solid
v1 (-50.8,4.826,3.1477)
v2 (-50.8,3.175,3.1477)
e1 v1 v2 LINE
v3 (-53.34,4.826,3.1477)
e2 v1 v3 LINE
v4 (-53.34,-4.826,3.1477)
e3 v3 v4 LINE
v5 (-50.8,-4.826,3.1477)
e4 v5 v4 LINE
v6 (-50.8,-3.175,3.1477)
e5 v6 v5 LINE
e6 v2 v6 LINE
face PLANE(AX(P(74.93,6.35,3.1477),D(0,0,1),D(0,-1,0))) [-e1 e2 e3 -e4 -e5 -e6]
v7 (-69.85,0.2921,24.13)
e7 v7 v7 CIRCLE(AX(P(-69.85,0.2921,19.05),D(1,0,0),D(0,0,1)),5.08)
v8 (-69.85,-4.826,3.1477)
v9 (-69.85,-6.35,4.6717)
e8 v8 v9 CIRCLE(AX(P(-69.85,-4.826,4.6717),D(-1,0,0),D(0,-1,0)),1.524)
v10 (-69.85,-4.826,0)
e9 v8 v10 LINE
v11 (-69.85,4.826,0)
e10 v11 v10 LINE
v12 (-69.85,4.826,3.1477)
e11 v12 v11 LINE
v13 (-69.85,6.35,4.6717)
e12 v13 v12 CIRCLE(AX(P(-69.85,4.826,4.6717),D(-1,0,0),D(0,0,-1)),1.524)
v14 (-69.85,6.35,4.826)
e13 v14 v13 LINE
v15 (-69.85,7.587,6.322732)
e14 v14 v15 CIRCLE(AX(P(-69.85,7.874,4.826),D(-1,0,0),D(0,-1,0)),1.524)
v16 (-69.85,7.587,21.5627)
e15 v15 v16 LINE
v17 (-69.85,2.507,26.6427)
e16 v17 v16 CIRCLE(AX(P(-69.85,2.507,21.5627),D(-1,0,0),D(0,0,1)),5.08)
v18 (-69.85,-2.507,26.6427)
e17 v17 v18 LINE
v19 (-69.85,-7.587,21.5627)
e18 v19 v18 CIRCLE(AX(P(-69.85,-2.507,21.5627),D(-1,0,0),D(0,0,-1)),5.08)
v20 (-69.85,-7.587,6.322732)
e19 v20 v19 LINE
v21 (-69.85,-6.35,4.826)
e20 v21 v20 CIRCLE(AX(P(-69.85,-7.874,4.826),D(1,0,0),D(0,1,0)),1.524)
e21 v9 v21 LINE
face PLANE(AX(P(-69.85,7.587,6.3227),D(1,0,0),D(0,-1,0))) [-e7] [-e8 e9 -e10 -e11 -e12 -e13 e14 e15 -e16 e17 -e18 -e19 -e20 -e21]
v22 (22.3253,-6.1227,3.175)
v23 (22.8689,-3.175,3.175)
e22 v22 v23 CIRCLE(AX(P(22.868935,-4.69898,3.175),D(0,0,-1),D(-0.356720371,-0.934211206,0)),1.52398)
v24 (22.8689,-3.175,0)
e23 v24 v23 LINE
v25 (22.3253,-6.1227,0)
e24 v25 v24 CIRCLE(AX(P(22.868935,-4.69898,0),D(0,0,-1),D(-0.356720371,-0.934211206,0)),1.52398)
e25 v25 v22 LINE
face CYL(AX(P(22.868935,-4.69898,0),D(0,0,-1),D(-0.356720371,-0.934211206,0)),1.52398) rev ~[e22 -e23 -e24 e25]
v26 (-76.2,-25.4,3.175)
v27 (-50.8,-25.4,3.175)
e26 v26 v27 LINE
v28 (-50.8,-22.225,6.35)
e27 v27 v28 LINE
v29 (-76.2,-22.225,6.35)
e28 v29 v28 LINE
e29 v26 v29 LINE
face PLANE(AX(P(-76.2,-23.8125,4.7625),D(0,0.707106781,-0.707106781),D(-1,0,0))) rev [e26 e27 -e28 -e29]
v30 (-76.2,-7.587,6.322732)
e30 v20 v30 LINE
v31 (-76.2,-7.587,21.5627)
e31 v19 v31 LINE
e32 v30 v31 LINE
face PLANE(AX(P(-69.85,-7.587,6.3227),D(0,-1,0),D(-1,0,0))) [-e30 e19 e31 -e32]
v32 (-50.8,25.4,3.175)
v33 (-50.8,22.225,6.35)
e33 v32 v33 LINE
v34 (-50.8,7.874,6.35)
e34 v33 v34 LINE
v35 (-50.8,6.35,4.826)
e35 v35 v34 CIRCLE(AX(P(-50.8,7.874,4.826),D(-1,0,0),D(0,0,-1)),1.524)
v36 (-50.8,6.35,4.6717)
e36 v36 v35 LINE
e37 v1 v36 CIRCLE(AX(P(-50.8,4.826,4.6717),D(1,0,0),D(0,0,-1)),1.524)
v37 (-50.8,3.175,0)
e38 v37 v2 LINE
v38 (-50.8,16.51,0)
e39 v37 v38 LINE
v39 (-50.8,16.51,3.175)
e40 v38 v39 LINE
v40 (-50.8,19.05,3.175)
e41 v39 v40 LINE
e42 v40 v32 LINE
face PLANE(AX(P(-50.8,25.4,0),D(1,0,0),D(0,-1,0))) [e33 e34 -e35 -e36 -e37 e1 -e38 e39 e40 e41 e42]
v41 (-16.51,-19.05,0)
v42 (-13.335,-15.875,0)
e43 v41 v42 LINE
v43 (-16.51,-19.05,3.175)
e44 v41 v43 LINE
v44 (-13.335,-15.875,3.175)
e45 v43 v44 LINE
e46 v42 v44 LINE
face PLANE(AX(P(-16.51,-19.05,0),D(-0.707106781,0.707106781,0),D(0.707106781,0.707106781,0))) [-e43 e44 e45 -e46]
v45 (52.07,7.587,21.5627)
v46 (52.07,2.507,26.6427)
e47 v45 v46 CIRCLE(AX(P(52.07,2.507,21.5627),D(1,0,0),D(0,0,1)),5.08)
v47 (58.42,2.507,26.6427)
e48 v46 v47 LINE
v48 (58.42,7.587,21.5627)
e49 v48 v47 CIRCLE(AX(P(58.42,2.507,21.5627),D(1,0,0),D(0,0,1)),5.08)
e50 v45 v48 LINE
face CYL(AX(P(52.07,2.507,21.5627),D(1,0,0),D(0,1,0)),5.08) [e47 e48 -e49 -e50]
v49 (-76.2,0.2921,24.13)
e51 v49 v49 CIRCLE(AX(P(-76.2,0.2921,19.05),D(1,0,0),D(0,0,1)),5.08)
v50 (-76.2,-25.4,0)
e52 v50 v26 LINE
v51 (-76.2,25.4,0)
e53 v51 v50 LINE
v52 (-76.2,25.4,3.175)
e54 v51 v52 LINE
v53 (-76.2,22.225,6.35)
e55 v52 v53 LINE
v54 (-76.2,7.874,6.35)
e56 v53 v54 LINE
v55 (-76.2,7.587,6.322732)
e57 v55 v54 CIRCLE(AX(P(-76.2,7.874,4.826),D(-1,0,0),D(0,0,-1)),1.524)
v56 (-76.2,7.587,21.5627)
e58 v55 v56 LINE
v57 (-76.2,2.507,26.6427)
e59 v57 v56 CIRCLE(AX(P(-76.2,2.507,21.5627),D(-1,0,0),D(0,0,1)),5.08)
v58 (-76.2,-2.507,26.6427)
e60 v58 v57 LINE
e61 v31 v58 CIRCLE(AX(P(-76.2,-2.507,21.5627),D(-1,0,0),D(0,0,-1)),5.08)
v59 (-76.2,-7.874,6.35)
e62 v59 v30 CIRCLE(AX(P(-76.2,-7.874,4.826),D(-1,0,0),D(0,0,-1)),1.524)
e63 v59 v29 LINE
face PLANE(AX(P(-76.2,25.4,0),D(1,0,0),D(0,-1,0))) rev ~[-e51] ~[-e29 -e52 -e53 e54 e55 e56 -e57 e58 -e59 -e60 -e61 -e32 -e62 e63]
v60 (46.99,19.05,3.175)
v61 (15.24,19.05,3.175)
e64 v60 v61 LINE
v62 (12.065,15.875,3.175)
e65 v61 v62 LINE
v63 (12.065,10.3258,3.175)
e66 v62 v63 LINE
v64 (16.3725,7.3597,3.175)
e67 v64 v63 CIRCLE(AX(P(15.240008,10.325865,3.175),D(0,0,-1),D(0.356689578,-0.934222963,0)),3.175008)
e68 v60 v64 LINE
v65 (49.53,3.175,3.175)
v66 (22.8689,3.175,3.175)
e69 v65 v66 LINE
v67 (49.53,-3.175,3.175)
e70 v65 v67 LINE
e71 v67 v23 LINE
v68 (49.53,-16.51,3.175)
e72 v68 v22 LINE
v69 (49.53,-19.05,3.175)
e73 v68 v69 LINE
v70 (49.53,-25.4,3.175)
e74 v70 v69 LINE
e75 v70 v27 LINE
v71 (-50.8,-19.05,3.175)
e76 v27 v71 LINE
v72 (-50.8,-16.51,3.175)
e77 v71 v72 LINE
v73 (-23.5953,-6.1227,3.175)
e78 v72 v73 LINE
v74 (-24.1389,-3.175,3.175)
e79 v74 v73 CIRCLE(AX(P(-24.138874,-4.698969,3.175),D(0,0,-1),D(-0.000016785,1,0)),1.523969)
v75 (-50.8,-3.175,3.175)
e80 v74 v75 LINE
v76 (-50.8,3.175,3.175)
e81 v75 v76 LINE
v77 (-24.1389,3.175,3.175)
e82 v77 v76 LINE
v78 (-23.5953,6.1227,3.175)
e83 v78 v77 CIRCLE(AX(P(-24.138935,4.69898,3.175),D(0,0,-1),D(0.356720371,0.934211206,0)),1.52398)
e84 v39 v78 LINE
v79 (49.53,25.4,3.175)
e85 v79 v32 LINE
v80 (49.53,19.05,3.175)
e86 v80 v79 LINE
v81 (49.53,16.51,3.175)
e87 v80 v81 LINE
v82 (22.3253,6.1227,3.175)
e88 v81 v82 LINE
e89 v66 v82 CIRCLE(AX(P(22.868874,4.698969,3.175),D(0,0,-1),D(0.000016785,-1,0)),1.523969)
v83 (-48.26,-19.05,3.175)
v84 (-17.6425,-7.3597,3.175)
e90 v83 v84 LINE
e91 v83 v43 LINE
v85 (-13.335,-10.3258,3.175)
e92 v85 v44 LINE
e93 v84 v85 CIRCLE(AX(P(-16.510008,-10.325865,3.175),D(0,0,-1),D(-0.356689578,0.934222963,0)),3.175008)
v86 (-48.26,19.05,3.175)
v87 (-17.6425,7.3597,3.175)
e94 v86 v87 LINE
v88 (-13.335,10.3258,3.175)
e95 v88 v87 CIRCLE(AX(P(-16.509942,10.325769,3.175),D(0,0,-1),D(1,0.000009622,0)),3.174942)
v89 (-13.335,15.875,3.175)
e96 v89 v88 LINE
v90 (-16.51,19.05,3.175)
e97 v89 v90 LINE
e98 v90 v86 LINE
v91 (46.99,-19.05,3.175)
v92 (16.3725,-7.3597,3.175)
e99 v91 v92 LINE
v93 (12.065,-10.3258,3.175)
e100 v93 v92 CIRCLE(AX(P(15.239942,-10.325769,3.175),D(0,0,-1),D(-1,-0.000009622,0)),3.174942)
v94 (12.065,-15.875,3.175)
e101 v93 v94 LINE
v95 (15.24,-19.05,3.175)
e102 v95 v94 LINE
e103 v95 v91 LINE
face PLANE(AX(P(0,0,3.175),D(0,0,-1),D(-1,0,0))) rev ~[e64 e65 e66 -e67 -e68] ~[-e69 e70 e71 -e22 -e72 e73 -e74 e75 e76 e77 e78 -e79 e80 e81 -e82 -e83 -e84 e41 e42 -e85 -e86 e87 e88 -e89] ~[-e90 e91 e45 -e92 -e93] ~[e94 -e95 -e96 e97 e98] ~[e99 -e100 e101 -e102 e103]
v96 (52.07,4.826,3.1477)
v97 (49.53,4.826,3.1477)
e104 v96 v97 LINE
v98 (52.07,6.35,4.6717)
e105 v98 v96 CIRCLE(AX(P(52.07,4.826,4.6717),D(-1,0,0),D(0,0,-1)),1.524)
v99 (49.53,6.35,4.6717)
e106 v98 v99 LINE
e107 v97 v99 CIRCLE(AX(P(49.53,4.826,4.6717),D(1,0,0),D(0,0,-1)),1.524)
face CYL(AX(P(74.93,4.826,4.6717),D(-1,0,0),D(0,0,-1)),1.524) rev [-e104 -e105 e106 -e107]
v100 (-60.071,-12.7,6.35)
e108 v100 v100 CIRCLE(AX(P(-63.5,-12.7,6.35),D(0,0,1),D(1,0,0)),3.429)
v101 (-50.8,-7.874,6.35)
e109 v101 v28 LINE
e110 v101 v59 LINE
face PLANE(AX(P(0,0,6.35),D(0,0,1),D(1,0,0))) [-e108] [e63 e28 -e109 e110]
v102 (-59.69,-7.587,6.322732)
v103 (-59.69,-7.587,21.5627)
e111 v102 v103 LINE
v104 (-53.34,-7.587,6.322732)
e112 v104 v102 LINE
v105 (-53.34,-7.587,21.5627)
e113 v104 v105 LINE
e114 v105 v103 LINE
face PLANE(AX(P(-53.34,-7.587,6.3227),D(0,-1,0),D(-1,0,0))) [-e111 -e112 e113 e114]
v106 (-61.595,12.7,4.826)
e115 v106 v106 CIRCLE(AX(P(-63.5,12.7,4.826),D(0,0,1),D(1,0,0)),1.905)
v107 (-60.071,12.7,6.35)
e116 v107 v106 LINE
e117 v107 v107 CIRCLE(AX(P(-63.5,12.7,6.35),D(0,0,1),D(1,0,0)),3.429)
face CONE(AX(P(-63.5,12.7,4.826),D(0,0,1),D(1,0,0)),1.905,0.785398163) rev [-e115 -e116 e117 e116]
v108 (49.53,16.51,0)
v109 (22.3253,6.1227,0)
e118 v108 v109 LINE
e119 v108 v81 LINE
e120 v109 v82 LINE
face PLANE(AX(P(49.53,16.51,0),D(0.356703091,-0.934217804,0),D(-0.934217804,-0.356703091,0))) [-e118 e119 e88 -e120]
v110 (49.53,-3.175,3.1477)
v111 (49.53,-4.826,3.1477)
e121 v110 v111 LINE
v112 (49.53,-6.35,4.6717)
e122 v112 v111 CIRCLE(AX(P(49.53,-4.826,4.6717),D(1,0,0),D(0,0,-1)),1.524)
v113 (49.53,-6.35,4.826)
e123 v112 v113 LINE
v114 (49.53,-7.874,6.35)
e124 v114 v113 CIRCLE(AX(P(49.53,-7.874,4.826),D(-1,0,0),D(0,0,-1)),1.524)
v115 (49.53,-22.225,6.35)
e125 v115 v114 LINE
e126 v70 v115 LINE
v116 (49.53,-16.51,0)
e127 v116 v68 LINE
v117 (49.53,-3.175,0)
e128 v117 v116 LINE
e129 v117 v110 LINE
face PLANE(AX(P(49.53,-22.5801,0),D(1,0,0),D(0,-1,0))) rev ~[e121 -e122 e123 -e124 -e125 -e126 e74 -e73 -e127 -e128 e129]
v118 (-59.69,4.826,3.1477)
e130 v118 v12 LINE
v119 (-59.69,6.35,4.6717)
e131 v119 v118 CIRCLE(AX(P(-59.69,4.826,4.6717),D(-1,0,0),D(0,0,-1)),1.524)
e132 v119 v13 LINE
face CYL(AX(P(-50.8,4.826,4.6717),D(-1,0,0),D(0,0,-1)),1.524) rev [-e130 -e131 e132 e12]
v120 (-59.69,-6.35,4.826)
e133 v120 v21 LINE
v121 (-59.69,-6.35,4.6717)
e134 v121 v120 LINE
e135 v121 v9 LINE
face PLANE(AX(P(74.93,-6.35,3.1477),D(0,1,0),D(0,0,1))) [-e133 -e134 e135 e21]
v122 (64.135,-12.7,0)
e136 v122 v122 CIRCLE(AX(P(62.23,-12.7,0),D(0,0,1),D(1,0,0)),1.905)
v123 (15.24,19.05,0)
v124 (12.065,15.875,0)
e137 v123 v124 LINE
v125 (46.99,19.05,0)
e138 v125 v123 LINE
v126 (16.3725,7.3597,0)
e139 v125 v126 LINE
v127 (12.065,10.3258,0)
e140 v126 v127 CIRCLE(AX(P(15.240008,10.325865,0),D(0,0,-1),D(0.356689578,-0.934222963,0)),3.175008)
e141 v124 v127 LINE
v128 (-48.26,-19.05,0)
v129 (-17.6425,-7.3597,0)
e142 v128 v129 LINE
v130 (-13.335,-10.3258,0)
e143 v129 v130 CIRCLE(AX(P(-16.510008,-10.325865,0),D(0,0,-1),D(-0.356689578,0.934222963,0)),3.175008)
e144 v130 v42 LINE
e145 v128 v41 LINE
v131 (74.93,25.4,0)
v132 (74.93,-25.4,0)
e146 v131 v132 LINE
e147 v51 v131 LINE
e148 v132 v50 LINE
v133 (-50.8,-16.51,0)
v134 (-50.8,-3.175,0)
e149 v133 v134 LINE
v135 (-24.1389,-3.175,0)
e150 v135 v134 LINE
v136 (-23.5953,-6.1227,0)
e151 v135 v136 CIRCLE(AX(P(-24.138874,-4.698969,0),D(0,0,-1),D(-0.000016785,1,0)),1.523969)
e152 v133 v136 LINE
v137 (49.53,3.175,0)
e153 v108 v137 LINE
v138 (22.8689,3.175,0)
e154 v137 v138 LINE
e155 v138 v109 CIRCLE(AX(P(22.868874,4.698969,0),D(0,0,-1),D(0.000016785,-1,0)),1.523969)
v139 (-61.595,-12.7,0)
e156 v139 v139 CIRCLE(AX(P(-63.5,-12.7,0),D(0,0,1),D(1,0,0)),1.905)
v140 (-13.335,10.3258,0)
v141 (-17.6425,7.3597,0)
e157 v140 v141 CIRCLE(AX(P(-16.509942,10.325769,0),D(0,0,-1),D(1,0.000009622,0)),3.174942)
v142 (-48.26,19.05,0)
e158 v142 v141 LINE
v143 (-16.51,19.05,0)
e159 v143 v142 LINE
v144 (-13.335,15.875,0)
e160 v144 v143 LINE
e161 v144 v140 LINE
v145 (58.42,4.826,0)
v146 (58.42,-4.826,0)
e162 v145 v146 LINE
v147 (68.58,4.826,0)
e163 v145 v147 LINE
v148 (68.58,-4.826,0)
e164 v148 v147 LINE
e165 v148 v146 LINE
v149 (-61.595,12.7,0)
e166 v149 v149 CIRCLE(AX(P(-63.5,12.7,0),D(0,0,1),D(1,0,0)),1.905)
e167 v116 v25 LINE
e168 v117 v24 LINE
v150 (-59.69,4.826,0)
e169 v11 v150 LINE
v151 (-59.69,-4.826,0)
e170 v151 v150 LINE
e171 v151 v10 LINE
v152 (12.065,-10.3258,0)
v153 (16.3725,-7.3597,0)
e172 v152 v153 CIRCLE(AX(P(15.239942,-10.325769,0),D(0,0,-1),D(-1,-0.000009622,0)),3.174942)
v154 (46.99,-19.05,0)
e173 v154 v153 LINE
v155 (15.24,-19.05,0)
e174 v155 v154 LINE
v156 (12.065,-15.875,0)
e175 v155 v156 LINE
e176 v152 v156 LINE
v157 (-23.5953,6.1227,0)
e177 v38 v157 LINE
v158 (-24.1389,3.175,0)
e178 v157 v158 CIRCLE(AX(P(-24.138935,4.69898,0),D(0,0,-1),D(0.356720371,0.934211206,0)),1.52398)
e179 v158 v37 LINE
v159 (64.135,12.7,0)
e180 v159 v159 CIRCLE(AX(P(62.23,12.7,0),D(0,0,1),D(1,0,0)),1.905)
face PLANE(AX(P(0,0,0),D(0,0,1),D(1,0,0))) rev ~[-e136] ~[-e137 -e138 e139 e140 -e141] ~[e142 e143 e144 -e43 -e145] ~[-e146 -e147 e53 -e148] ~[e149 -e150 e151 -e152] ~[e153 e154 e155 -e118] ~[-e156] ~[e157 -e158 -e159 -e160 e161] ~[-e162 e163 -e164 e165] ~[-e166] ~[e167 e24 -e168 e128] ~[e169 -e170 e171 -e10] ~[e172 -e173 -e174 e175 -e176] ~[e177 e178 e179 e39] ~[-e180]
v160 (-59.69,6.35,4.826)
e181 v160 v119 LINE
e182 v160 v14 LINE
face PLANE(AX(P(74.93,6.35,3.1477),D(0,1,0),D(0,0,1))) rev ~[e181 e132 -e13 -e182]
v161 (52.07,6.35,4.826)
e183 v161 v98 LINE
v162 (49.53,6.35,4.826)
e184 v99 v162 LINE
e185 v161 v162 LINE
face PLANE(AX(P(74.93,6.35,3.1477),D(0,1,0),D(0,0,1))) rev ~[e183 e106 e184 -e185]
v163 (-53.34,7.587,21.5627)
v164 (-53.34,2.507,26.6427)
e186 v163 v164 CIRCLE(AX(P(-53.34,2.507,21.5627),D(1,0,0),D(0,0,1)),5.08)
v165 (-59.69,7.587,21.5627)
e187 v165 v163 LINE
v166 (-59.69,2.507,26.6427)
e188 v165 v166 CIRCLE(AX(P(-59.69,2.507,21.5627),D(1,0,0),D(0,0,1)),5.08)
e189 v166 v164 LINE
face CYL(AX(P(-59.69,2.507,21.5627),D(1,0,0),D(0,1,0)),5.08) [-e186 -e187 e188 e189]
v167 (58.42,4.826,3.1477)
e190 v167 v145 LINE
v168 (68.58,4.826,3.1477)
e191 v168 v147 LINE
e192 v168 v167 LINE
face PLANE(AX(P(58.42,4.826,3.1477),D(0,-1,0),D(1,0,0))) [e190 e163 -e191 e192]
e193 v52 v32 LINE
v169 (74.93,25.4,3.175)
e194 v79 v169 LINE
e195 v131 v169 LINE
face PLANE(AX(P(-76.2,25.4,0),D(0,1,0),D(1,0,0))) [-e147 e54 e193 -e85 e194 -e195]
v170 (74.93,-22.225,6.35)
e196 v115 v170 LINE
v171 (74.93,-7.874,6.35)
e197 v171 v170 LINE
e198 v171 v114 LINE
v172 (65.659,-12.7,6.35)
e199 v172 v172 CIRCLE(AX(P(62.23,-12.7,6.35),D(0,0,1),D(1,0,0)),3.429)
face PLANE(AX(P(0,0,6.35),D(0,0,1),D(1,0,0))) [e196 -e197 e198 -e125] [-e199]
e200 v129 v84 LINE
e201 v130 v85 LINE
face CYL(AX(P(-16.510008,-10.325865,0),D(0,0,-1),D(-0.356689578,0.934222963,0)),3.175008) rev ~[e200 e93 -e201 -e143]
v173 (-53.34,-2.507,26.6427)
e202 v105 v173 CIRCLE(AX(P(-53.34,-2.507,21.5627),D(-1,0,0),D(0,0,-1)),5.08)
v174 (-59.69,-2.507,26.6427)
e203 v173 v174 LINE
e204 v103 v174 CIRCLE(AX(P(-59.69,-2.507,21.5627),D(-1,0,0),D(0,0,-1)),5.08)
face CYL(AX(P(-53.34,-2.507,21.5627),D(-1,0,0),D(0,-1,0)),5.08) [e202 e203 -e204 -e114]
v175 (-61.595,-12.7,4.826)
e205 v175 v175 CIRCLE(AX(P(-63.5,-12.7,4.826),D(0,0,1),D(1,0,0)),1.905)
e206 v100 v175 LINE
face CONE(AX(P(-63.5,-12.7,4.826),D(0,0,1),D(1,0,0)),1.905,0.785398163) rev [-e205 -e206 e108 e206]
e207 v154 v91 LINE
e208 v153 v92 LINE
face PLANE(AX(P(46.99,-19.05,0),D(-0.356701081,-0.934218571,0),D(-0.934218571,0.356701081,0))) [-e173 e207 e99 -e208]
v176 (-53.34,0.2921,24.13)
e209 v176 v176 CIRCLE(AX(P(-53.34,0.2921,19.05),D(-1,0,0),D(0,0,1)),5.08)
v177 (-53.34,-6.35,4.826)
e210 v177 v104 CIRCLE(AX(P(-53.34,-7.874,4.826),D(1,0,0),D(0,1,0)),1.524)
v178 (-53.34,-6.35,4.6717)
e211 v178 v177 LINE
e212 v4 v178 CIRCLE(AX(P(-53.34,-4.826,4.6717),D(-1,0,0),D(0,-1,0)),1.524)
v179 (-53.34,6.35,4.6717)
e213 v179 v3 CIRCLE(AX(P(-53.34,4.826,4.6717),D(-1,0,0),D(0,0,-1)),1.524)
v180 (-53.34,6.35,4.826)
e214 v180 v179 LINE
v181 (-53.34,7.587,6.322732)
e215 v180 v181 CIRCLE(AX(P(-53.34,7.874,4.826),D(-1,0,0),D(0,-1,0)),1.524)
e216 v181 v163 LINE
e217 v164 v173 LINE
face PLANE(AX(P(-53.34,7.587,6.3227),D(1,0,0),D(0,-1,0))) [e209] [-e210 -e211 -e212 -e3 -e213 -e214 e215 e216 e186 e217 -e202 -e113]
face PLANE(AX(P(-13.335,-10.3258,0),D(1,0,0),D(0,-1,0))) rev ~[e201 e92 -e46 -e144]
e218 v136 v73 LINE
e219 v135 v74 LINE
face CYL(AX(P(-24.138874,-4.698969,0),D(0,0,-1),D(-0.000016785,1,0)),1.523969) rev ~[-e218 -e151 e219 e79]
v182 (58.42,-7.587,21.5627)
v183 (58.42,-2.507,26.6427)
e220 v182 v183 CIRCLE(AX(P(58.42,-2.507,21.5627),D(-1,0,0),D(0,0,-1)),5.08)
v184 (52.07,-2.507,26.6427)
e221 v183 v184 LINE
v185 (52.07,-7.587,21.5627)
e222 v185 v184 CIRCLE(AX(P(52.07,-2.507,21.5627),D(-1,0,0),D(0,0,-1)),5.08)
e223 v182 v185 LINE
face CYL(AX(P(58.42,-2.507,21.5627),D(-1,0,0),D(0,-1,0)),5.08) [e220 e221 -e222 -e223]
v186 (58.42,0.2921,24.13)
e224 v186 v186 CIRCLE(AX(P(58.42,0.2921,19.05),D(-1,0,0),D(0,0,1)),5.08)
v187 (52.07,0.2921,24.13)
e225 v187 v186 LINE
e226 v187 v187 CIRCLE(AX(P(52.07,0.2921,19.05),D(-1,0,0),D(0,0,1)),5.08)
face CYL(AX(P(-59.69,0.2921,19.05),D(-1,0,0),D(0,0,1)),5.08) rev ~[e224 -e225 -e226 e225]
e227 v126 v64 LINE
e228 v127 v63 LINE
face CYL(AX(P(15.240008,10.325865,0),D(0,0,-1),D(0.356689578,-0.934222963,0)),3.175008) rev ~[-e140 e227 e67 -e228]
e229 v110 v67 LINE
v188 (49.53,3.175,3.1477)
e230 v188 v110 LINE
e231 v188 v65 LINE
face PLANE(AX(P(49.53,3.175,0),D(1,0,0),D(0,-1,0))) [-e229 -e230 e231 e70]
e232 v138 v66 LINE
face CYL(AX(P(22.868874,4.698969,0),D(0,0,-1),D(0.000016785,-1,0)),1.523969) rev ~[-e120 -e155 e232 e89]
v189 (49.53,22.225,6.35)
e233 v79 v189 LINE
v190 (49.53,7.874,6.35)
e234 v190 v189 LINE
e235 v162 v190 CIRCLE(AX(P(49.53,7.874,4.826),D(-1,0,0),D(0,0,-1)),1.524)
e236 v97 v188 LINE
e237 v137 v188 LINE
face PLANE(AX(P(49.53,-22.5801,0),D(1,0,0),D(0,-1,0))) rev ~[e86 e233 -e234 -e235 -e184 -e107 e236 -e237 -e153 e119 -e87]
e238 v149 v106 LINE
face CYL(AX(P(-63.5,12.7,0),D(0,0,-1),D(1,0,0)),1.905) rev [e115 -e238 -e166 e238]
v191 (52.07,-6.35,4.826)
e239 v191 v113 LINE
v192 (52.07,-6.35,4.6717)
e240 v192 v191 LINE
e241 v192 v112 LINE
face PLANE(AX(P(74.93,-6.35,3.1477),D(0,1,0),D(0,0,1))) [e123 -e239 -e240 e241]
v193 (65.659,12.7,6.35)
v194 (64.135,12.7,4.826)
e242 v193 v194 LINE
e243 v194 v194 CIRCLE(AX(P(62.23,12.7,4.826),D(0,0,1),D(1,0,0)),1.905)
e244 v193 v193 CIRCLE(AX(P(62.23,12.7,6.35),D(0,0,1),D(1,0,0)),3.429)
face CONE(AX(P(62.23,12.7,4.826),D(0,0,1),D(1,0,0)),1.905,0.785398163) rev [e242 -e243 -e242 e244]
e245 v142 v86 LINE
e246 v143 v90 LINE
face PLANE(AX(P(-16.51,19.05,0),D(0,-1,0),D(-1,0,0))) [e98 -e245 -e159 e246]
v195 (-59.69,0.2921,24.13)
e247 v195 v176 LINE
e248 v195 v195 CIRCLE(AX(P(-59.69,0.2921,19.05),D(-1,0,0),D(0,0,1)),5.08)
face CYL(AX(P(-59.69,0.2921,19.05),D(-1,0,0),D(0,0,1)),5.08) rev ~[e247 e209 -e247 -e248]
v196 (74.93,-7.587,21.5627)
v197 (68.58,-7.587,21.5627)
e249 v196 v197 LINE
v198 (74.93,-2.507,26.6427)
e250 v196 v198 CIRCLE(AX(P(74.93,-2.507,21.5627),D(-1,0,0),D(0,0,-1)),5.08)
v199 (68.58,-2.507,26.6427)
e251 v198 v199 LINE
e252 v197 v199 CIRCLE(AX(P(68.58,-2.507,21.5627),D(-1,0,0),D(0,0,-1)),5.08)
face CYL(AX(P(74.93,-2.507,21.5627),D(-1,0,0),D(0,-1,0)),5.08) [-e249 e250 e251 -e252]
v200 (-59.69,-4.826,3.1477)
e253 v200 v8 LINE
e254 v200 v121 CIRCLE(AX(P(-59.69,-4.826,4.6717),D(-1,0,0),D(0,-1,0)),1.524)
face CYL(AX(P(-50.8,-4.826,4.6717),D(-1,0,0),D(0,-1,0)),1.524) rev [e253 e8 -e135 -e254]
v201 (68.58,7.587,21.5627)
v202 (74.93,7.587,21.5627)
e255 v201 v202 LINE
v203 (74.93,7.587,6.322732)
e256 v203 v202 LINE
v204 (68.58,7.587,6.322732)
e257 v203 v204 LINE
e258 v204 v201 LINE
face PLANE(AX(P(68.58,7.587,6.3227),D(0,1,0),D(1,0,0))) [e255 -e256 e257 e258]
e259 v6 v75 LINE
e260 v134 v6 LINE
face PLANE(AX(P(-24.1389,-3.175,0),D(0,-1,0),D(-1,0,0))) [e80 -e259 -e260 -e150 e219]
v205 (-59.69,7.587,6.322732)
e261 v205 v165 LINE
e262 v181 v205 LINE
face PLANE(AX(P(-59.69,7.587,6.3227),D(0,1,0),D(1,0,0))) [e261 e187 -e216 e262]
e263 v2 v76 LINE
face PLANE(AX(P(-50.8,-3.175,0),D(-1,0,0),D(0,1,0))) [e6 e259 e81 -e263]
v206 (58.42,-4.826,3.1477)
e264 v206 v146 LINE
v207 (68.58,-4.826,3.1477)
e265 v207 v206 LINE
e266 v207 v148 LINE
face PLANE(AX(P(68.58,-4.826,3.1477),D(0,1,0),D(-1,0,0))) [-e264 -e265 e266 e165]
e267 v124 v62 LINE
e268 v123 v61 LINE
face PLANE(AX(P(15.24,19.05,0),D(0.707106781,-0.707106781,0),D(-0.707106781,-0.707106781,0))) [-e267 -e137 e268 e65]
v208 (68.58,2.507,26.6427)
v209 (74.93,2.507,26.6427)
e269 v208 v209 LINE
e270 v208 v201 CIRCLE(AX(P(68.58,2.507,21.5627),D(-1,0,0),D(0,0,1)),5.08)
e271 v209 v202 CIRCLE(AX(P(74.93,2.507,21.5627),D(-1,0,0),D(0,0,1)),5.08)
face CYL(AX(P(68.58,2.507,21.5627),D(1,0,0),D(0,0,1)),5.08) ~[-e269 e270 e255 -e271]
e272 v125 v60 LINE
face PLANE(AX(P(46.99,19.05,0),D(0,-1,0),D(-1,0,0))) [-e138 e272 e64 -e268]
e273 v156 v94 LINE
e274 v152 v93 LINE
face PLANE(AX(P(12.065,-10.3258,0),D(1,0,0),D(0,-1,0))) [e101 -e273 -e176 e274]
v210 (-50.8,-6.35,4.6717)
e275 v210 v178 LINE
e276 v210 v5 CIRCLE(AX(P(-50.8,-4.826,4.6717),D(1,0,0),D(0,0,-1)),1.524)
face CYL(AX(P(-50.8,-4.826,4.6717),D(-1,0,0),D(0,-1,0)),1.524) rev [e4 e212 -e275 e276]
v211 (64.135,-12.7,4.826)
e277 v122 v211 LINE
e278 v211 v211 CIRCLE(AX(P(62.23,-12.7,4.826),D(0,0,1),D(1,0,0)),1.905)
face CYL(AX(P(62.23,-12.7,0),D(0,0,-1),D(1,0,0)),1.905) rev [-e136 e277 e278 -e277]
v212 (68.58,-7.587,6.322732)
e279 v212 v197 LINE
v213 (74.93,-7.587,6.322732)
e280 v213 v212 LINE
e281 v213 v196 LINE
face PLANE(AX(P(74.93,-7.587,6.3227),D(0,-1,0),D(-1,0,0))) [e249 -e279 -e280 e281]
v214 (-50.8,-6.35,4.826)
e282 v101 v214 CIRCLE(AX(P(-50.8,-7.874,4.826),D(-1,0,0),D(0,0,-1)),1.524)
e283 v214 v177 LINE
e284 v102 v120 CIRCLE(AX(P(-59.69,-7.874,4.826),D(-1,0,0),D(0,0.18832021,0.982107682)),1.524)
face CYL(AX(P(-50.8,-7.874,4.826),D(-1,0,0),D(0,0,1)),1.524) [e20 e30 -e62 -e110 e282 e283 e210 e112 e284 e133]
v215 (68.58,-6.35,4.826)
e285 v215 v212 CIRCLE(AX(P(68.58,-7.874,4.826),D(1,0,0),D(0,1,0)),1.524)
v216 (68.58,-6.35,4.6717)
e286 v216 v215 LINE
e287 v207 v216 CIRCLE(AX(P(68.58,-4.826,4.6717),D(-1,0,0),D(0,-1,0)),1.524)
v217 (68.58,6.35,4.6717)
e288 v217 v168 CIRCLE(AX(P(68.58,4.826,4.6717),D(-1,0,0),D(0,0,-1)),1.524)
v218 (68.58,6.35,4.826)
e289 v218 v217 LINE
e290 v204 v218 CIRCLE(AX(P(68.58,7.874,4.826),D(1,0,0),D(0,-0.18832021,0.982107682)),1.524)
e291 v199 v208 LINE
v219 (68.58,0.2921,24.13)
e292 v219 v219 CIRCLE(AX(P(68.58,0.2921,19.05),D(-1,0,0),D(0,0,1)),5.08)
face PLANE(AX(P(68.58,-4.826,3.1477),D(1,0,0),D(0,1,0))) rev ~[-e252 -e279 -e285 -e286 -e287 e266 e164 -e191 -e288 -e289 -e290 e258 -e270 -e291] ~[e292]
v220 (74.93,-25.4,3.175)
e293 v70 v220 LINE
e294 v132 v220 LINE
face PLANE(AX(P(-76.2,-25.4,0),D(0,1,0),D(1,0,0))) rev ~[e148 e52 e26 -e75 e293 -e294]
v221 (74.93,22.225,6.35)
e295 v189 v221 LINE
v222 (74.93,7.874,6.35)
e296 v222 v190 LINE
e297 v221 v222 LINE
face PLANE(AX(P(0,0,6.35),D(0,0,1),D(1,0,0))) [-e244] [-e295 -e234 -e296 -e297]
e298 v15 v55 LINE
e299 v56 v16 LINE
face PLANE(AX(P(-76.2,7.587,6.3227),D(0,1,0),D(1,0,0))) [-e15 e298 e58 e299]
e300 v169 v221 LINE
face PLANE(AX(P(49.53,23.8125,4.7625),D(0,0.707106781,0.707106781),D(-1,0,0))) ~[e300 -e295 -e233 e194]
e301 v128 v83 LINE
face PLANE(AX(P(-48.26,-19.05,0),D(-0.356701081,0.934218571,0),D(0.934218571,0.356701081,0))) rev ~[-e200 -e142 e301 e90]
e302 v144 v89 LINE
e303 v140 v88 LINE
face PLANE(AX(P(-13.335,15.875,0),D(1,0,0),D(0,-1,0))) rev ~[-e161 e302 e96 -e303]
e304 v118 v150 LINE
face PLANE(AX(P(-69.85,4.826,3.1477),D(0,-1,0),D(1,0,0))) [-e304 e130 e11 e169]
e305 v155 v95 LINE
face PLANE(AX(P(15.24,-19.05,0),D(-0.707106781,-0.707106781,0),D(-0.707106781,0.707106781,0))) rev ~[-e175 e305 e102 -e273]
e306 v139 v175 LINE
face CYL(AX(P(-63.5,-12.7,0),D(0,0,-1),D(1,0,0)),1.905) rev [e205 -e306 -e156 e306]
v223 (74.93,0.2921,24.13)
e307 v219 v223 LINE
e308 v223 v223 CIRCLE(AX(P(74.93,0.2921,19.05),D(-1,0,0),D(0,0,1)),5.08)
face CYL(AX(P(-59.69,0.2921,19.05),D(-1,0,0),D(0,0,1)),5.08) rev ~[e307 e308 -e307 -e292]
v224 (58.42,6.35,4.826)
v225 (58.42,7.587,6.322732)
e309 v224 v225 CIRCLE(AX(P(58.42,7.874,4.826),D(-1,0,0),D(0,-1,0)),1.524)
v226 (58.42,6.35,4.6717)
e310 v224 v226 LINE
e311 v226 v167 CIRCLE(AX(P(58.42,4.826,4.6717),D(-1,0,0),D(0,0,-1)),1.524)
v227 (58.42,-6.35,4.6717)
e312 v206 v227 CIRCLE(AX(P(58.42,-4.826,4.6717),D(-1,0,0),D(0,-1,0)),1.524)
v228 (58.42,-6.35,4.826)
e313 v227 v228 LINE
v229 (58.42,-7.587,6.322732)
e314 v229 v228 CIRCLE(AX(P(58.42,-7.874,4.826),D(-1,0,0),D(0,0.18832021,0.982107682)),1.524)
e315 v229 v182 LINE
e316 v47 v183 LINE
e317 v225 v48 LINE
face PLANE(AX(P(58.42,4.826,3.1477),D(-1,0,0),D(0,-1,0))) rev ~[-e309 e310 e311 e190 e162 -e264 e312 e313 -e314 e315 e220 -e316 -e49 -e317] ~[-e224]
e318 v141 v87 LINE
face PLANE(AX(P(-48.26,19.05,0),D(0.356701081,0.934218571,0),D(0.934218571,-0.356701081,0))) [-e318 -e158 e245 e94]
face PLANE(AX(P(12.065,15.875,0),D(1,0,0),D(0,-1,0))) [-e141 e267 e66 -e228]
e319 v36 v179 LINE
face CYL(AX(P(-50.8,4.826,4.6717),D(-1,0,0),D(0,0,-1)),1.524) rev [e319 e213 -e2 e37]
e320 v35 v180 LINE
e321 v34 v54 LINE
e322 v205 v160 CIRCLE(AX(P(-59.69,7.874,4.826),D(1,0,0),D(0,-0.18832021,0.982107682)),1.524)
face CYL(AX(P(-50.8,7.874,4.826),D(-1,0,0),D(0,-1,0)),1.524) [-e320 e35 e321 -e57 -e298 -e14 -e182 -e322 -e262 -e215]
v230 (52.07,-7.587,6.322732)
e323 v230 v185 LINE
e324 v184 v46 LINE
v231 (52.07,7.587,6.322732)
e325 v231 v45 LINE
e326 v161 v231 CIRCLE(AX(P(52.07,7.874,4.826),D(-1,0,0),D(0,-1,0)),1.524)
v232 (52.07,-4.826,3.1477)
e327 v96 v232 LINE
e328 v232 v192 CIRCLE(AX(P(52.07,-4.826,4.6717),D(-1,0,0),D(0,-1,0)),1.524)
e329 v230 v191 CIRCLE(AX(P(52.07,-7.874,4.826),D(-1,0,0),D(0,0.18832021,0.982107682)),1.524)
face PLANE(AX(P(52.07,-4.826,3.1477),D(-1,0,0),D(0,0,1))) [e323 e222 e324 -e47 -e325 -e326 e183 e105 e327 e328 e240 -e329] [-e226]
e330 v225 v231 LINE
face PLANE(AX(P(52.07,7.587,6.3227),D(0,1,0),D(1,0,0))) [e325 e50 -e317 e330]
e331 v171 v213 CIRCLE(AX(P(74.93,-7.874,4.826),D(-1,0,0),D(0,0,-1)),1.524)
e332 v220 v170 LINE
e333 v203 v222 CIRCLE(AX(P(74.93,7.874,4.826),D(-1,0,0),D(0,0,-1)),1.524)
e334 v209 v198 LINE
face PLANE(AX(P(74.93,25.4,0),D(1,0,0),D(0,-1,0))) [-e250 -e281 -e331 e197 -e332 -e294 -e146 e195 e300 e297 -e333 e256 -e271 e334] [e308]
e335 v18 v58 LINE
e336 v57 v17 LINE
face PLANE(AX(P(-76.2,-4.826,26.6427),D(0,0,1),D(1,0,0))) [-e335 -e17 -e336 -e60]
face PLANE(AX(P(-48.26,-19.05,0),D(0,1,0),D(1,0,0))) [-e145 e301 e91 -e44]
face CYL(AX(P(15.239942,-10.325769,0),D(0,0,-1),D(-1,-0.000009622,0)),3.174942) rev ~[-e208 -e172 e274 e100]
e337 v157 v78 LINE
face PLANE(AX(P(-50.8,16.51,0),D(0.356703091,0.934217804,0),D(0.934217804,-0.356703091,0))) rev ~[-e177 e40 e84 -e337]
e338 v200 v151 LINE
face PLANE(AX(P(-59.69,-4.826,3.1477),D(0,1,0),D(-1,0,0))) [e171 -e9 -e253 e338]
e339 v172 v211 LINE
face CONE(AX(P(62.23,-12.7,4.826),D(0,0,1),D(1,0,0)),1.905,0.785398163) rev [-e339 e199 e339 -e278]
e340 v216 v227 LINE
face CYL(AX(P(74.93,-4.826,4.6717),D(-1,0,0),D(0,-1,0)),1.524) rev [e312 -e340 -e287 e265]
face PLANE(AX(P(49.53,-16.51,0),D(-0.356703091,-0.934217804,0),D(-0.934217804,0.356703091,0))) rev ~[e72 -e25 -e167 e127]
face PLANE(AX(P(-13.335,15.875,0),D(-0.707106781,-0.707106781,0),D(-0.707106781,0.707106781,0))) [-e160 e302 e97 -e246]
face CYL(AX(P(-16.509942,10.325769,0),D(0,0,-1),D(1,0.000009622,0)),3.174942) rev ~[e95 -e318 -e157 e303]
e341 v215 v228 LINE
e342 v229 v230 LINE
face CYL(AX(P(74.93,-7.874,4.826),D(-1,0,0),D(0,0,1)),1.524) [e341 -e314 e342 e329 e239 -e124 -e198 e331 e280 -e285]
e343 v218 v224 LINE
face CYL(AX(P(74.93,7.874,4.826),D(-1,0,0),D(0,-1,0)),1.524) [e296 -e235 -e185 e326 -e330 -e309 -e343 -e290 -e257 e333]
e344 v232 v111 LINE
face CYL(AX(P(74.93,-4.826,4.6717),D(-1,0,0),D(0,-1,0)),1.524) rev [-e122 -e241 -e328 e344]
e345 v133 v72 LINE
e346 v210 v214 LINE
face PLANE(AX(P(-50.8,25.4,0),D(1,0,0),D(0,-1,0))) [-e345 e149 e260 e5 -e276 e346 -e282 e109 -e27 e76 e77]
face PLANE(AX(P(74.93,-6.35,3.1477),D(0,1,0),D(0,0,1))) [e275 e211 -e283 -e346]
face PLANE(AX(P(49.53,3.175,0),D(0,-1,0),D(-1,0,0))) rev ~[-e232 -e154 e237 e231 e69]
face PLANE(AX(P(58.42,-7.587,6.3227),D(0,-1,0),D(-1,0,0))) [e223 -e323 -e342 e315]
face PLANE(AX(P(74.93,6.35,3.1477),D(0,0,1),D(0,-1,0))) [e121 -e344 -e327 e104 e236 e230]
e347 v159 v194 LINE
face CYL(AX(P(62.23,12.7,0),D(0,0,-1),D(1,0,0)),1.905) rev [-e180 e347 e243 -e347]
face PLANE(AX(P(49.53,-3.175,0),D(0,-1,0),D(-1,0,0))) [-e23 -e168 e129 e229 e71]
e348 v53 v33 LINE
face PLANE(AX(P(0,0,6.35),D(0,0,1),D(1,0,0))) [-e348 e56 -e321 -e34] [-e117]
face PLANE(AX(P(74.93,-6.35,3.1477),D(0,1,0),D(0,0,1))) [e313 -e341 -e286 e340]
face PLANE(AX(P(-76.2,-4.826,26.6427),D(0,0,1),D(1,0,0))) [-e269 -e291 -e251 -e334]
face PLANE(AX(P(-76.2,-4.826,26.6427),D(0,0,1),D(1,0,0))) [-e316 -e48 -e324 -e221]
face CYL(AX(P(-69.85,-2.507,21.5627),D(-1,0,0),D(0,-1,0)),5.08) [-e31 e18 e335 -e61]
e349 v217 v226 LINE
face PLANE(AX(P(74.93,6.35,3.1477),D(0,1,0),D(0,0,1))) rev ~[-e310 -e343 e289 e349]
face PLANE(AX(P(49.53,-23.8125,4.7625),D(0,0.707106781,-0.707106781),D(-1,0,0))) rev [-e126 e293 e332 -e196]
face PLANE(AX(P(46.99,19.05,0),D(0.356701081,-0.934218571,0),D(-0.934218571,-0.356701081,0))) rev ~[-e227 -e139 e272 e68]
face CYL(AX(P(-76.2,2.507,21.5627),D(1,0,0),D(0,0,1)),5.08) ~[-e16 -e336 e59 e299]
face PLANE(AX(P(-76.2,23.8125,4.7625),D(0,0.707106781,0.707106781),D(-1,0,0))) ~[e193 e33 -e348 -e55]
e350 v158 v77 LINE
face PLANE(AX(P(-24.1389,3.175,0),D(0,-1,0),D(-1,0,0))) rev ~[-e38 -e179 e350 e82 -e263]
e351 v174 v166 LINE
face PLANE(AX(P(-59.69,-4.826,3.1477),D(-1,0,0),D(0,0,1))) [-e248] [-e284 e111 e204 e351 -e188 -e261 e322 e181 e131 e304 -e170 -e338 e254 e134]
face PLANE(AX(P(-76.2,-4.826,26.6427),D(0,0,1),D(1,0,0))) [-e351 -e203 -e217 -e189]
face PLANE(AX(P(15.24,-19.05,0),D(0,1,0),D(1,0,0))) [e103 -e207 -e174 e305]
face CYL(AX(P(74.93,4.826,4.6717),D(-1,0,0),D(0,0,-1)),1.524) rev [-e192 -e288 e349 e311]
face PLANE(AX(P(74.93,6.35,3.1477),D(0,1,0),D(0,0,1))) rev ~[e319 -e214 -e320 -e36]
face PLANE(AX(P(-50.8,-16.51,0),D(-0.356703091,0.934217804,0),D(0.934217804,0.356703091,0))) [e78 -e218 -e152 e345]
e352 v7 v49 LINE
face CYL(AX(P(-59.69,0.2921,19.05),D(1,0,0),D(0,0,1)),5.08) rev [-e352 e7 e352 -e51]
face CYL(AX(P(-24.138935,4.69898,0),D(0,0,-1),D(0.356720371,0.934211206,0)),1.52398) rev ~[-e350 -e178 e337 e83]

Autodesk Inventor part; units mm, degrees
ref_plane "YZ Plane" through (0, 0, 0) normal (1, 0, 0) x (0, 1, 0)
ref_plane "XZ Plane" through (0, 0, 0) normal (0, 1, 0) x (-1, 0, 0)
ref_plane "XY Plane" through (0, 0, 0) normal (0, 0, 1) x (1, 0, 0)
sketch "Sketch1" plane through (0, 0, 0) normal (0, 0, 1) x (1, 0, 0)
  line L0 (0, 10.4492) -> (0, -5.5867)
  line L1 (-50.8, 47.0224) -> (-50.8, -22.5801)
  line L2 (49.53, -22.5801) -> (49.53, 35.616)
  line L3 (-76.2, 44.5628) -> (-76.2, -34.6645)
  line L4 (74.93, 44.5628) -> (74.93, -34.6645)
  line L5 (-76.2, 25.4) -> (74.93, 25.4)
  line L6 (49.53, 35.616) -> (49.53, 84.3028)
  line L7 (-50.8, -22.5801) -> (-50.8, -93.3226)
  line L8 (49.53, -22.5801) -> (49.53, -89.9068)
  line L9 (-76.2, -25.4) -> (74.93, -25.4)
  circle A0 centre (-63.5, 12.7) radius 1.905
  circle A1 centre (-63.5, -12.7) radius 1.905
  circle A2 centre (62.23, -12.7) radius 1.905
  circle A3 centre (62.23, 12.7) radius 1.905
  point P0 (0, 0)
  point P1 (49.53, -25.4)
  point P2 (49.53, 25.4)
  point P3 (-50.8, -25.4)
  point P4 (-50.8, 25.4)
  dimension "d0" = 100.33
  dimension "d1" = 50.8
  dimension "d2" = 25.4
  dimension "d3" = 25.4
  dimension "d4" = 50.8
  dimension "d5" = 25.4
  dimension "d6" = 3.81
  dimension "d7" = 3.81
  dimension "d8" = 3.81
  dimension "d9" = 3.81
  dimension "d10" = 12.7
  dimension "d11" = 12.7
  dimension "d12" = 12.7
  dimension "d13" = 12.7
  dimension "d14" = 12.7
  dimension "d15" = 12.7
  dimension "d16" = 12.7
  dimension "d17" = 12.7
extrude "Extrusion1" add sketch "Sketch1" along normal blind 6.35 contours L1 L7 L9 L3 L5 | L5 L4 L9 L8 L2
chamfer "Chamfer1" distance 3.175 angle 45 4 edges at (-63.5, -25.4, 6.35) (62.23, -25.4, 6.35) (62.23, 25.4, 6.35) (-63.5, 25.4, 6.35)
sketch "Sketch2" plane through (74.93, -25.4, 0) normal (1, 0, 0) x (0, 0, -1)
  line L0 (-3.1477, 31.75) -> (-3.1477, 19.05)
  line L1 (0, 50.8) -> (-3.175, 50.8) projected
  line L2 (-3.1477, 31.75) -> (-6.35, 31.75)
  line L3 (-6.35, 31.75) -> (-6.35, 19.05)
  line L4 (-6.35, 3.175) -> (-6.35, 47.625) projected
  line L5 (-3.1477, 19.05) -> (-6.35, 19.05)
  point P0 (0, 25.4)
  dimension "d23" = 12.7
  dimension "d24" = 19.05
extrude "Extrusion2" cut sketch "Sketch2" against normal blind 203.2
fillet "Fillet1" radius 1.524 8 edges at (-63.5, 6.35, 3.1477) (-63.5, 6.35, 6.35) (62.23, 6.35, 6.35) (62.23, 6.35, 3.1477) (62.23, -6.35, 3.1477) (62.23, -6.35, 6.35) (-63.5, -6.35, 3.1477) (-63.5, -6.35, 6.35)
chamfer "Chamfer2" distance 1.524 angle 45 4 edges at (-65.405, 12.7, 6.35) (60.325, 12.7, 6.35) (60.325, -12.7, 6.35) (-65.405, -12.7, 6.35)
sketch "Sketch3" plane through (0, 0, 0) normal (0, 0, -1) x (-1, 0, 0)
  line L0 (-74.93, 25.4) -> (-49.53, 25.4) projected
  line L1 (50.8, -25.4) -> (50.8, 25.4) projected
  line L2 (-49.53, 25.4) -> (50.8, 25.4)
  line L3 (-49.53, 25.4) -> (-49.53, -25.4) projected
  line L4 (50.8, -25.4) -> (-49.53, -25.4)
  line L5 (-49.53, -4.826) -> (-49.53, 4.826) projected
  line L6 (50.8, 4.826) -> (50.8, -4.826) projected
  line L7 (-49.53, -7.874) -> (-49.53, -22.225) projected
  line L8 (-46.99, 19.05) -> (-16.3725, 7.3597)
  line L9 (-49.53, 22.225) -> (-49.53, 7.874) projected
  line L10 (-49.53, 16.51) -> (-22.3253, 6.1227)
  line L11 (-46.99, -19.05) -> (-16.3725, -7.3597)
  line L12 (-49.53, -16.51) -> (-22.3253, -6.1227)
  line L13 (0.635, 25.4) -> (0.635, -25.4)
  line L14 (48.26, 19.05) -> (17.6425, 7.3597)
  line L15 (50.8, 16.51) -> (23.5953, 6.1227)
  line L16 (50.8, -16.51) -> (23.5953, -6.1227)
  line L17 (48.26, -19.05) -> (17.6425, -7.3597)
  line L18 (-12.065, 15.875) -> (-12.065, 10.3258)
  line L19 (-12.065, -10.3258) -> (-12.065, -15.875)
  line L20 (13.335, 15.875) -> (13.335, 10.3258)
  line L21 (13.335, -10.3258) -> (13.335, -15.875)
  line L22 (-49.53, 3.175) -> (-22.8689, 3.175)
  line L23 (24.1389, 3.175) -> (50.8, 3.175)
  line L24 (-49.53, -3.175) -> (-22.8689, -3.175)
  line L25 (24.1389, -3.175) -> (50.8, -3.175)
  arc A0 (-16.3725, 7.3597) -> (-12.065, 10.3258) centre (-15.24, 10.3258) ccw
  arc A1 (-12.065, -10.3258) -> (-16.3725, -7.3597) centre (-15.24, -10.3258) ccw
  arc A2 (13.335, 10.3258) -> (17.6425, 7.3597) centre (16.51, 10.3258) ccw
  arc A3 (17.6425, -7.3597) -> (13.335, -10.3258) centre (16.51, -10.3258) ccw
  arc A4 (23.5953, 6.1227) -> (24.1389, 3.175) centre (24.1389, 4.699) ccw
  arc A5 (24.1389, -3.175) -> (23.5953, -6.1227) centre (24.1389, -4.699) ccw
  arc A6 (-22.3253, -6.1227) -> (-22.8689, -3.175) centre (-22.8689, -4.699) ccw
  arc A7 (-22.8689, 3.175) -> (-22.3253, 6.1227) centre (-22.8689, 4.699) ccw
  line L26 (-49.53, 19.05) -> (-15.24, 19.05)
  line L27 (16.51, 19.05) -> (50.8, 19.05)
  line L28 (50.8, -19.05) -> (16.51, -19.05)
  line L29 (-15.24, -19.05) -> (-49.53, -19.05)
  line L30 (-15.24, -19.05) -> (-12.065, -15.875)
  line L31 (16.51, -19.05) -> (13.335, -15.875)
  line L32 (13.335, 15.875) -> (16.51, 19.05)
  line L33 (-15.24, 19.05) -> (-12.065, 15.875)
  point P0 (0, 0)
  point P1 (-12.065, 19.05)
  point P2 (-12.065, -19.05)
  point P3 (13.335, 19.05)
  point P4 (13.335, -19.05)
  point P5 (-14.605, 3.175)
  point P6 (15.875, -3.175)
  point P7 (15.875, 3.175)
  point P8 (-12.065, -5.715)
  point P9 (-12.065, 5.715)
  point P10 (13.335, 5.715)
  point P11 (13.335, -5.715)
  point P12 (-14.605, -3.175)
  dimension "d38" = 2.54
  dimension "d41" = 3.175
  dimension "d42" = 1.524
  dimension "d43" = 3.175
  dimension "d44" = 3.175
  dimension "d45" = 3.175
  dimension "d46" = 3.175
  dimension "d47" = 3.175
  dimension "d48" = 3.175
  dimension "d49" = 3.175
  dimension "d50" = 3.175
extrude "Extrusion3" add sketch "Sketch3" against normal blind 3.175 contours L4 L13 L2 L1 L15 A4 L23 L25 A5 L16 | L4 L3 L12 A6 L24 L22 A7 L10 L2 L13
sketch "Sketch4" plane through (-76.2, -4.826, 3.1477) normal (0, 0, 1) x (1, 0, 0)
  point P0 (76.2, 4.826)
sketch "Sketch5" plane through (-76.2, -4.826, 3.1477) normal (0, 0, 1) x (1, 0, 0)
  line L0 (0, -1.524) -> (0, -3.048) projected
  line L1 (0, -3.048) -> (25.4, -3.048) projected
  line L2 (25.4, -3.048) -> (25.4, -1.524) projected
  line L3 (25.4, -1.524) -> (0, -1.524) projected
  line L4 (25.4, -1.524) -> (25.4, 0) projected
  line L5 (25.4, 0) -> (0, 0) projected
  line L6 (0, 0) -> (0, -1.524) projected
  line L7 (0, -1.524) -> (25.4, -1.524) projected
  line L8 (25.4, 9.652) -> (25.4, 11.176) projected
  line L9 (25.4, 11.176) -> (0, 11.176) projected
  line L10 (0, 11.176) -> (0, 9.652) projected
  line L11 (0, 9.652) -> (25.4, 9.652) projected
  line L12 (25.4, 12.7) -> (0, 12.7) projected
  line L13 (0, -3.048) -> (25.4, -3.048) projected
  line L14 (6.35, -3.048) -> (6.35, 12.7)
  line L15 (16.51, 12.7) -> (16.51, -3.048)
  line L16 (0, 0) -> (0, 9.652) projected
  line L17 (22.86, 12.7) -> (22.86, -3.048)
  line L18 (151.13, 30.226) -> (0, 30.226) projected
  line L19 (0, -20.574) -> (151.13, -20.574) projected
  line L20 (0, 12.7) -> (25.4, 12.7)
  line L21 (25.4, -3.048) -> (0, -3.048)
  line L22 (0, 30.226) -> (0, -20.574) projected
  line L23 (75.565, 30.226) -> (75.565, -20.574)
  line L24 (151.13, -1.524) -> (151.13, -3.048)
  line L25 (151.13, -3.048) -> (125.73, -3.048)
  line L26 (125.73, -3.048) -> (125.73, -1.524)
  line L27 (125.73, -1.524) -> (151.13, -1.524)
  line L28 (125.73, -1.524) -> (125.73, 0)
  line L29 (125.73, 0) -> (151.13, 0)
  line L30 (151.13, 0) -> (151.13, -1.524)
  line L31 (151.13, -1.524) -> (125.73, -1.524)
  line L32 (125.73, 9.652) -> (125.73, 11.176)
  line L33 (125.73, 11.176) -> (151.13, 11.176)
  line L34 (151.13, 11.176) -> (151.13, 9.652)
  line L35 (151.13, 9.652) -> (125.73, 9.652)
  line L36 (125.73, 12.7) -> (151.13, 12.7)
  line L37 (151.13, -3.048) -> (125.73, -3.048)
  line L38 (144.78, -3.048) -> (144.78, 12.7)
  line L39 (134.62, 12.7) -> (134.62, -3.048)
  line L40 (151.13, 0) -> (151.13, 9.652)
  line L41 (128.27, 12.7) -> (128.27, -3.048)
  line L42 (151.13, 12.7) -> (125.73, 12.7)
  line L43 (125.73, -3.048) -> (151.13, -3.048)
  point P0 (76.2, 4.826)
  point P1 (144.78, 9.652)
  point P2 (144.78, 0)
  point P3 (128.27, 9.652)
  point P4 (128.27, 0)
  point P5 (134.62, 0)
  point P6 (134.62, 9.652)
  point P7 (22.86, 0)
  point P8 (22.86, 9.652)
  point P9 (16.51, 9.652)
  point P10 (16.51, 0)
  point P11 (6.35, 0)
  point P12 (6.35, 9.652)
  dimension "d53" = 6.35
  dimension "d54" = 10.16
  dimension "d55" = 6.35
extrude "Extrusion4" add sketch "Sketch5" along normal blind 3.175 contours L16 L11 L14 L5 | L15 L11 L17 L5 | L29 L38 L35 L40 | L29 L41 L35 L39
sketch "Sketch6" plane through (-76.2, -4.826, 3.1477) normal (0, -1, 0) x (1, 0, 0)
  line L0 (6.35, 0) -> (0, 0) projected
  line L1 (6.35, 0) -> (6.35, 3.175) projected
  line L2 (0, 3.175) -> (6.35, 3.175) projected
  line L3 (0, 0) -> (0, 3.175) projected
  line L4 (16.51, 3.175) -> (22.86, 3.175) projected
  line L5 (22.86, 0) -> (16.51, 0) projected
  line L6 (22.86, 0) -> (22.86, 3.175) projected
  line L7 (16.51, 3.175) -> (22.86, 3.175) projected
  line L8 (16.51, 0) -> (16.51, 3.175) projected
  line L9 (134.62, 0) -> (128.27, 0) projected
  line L10 (134.62, 0) -> (134.62, 3.175) projected
  line L11 (128.27, 3.175) -> (134.62, 3.175) projected
  line L12 (128.27, 0) -> (128.27, 3.175) projected
  line L13 (151.13, 0) -> (144.78, 0) projected
  line L14 (151.13, 0) -> (151.13, 3.175) projected
  line L15 (144.78, 3.175) -> (151.13, 3.175) projected
  line L16 (144.78, 0) -> (144.78, 3.175) projected
  line L17 (128.27, 0) -> (134.62, 0) projected
  line L18 (128.27, 0) -> (128.27, 3.175) projected
  line L19 (134.62, 3.175) -> (128.27, 3.175) projected
  line L20 (134.62, 0) -> (134.62, 3.175) projected
  point P0 (76.2, -3.1477)
extrude "Extrusion5" add sketch "Sketch6" along normal blind 3.175
sketch "Sketch7" plane through (-76.2, 4.826, 3.1477) normal (0, 1, 0) x (1, 0, 0)
  line L0 (16.51, 0) -> (22.86, 0) projected
  line L1 (16.51, 0) -> (16.51, -3.175) projected
  line L2 (22.86, -3.175) -> (16.51, -3.175) projected
  line L3 (22.86, 0) -> (22.86, -3.175) projected
  line L4 (0, 0) -> (6.35, 0) projected
  line L5 (0, 0) -> (0, -3.175) projected
  line L6 (6.35, -3.175) -> (0, -3.175) projected
  line L7 (6.35, 0) -> (6.35, -3.175) projected
  line L8 (128.27, 0) -> (134.62, 0) projected
  line L9 (128.27, 0) -> (128.27, -3.175) projected
  line L10 (134.62, -3.175) -> (128.27, -3.175) projected
  line L11 (134.62, 0) -> (134.62, -3.175) projected
  line L12 (144.78, 0) -> (151.13, 0) projected
  line L13 (144.78, 0) -> (144.78, -3.175) projected
  line L14 (151.13, -3.175) -> (144.78, -3.175) projected
  line L15 (151.13, 0) -> (151.13, -3.175) projected
  point P0 (76.2, 3.1477)
extrude "Extrusion6" add sketch "Sketch7" along normal blind 3.175
sketch "Sketch8" plane through (58.42, -4.826, 3.1477) normal (0, 0, 1) x (1, 0, 0)
  line L0 (-118.11, 0) -> (-118.11, 9.652) projected
  line L1 (-128.27, 9.652) -> (-118.11, 9.652) projected
  line L2 (-128.27, 9.652) -> (-128.27, 0) projected
  line L3 (-118.11, 0) -> (-128.27, 0) projected
  line L4 (0, 9.652) -> (0, 0) projected
  line L5 (10.16, 0) -> (0, 0) projected
  line L6 (10.16, 0) -> (10.16, 9.652) projected
  line L7 (0, 9.652) -> (10.16, 9.652) projected
  point P0 (-58.42, 4.826)
extrude "Extrusion7" cut sketch "Sketch8" against normal blind 3.175
sketch "Sketch9" plane through (-59.69, -7.587, 6.3227) normal (-1, 0, 0) x (0, 0, 1)
  circle A0 centre (12.7273, 7.8791) radius 11.303
  line L0 (-6.3227, 2.761) -> (-6.3227, 12.413) projected
  circle A1 centre (12.7273, 7.8791) radius 5.08
  point P0 (-6.3227, 7.587)
  point P1 (0.0273, 15.461)
  dimension "d64" = 22.606
  dimension "d65" = 7.5819
  dimension "d66" = 19.05
  dimension "d70" = 10.16
sketch "Sketch10" plane through (-76.2, -4.826, 6.3227) normal (0, 0, 1) x (1, 0, 0)
  line L0 (6.35, 12.413) -> (6.35, -2.761) projected
  line L1 (0, 12.413) -> (6.35, 12.413) projected
  line L2 (0, -2.761) -> (0, 12.413) projected
  line L3 (6.35, -2.761) -> (0, -2.761) projected
  line L4 (16.51, -2.761) -> (16.51, 12.413) projected
  line L5 (22.86, -2.761) -> (16.51, -2.761) projected
  line L6 (22.86, 12.413) -> (22.86, -2.761) projected
  line L7 (16.51, 12.413) -> (22.86, 12.413) projected
  line L8 (134.62, 12.413) -> (134.62, -2.761) projected
  line L9 (128.27, 12.413) -> (134.62, 12.413) projected
  line L10 (128.27, -2.761) -> (128.27, 12.413) projected
  line L11 (134.62, -2.761) -> (128.27, -2.761) projected
  line L12 (144.78, -2.761) -> (144.78, 12.413) projected
  line L13 (151.13, -2.761) -> (144.78, -2.761) projected
  line L14 (151.13, 12.413) -> (151.13, -2.761) projected
  line L15 (144.78, 12.413) -> (151.13, 12.413) projected
  point P0 (76.2, 4.826)
extrude "Extrusion8" add sketch "Sketch10" along normal blind 20.32
fillet "Fillet2" radius 5.08 8 edges at (-73.025, 7.587, 26.6427) (-56.515, 7.587, 26.6427) (-56.515, -7.587, 26.6427) (-73.025, -7.587, 26.6427) (55.245, 7.587, 26.6427) (71.755, 7.587, 26.6427) (71.755, -7.587, 26.6427) (55.245, -7.587, 26.6427)
extrude "Extrusion9" cut sketch "Sketch9" along normal mid plane 406.4 contours A1
equation "\"d44\" = d43"
equation "\"d45\" = d43"
equation "\"d46\" = d45"
equation "\"d47\" = d43"
equation "\"d48\" = d47"
equation "\"d49\" = d43"
equation "\"d50\" = d49"
properties part number "belt tensioner base"
